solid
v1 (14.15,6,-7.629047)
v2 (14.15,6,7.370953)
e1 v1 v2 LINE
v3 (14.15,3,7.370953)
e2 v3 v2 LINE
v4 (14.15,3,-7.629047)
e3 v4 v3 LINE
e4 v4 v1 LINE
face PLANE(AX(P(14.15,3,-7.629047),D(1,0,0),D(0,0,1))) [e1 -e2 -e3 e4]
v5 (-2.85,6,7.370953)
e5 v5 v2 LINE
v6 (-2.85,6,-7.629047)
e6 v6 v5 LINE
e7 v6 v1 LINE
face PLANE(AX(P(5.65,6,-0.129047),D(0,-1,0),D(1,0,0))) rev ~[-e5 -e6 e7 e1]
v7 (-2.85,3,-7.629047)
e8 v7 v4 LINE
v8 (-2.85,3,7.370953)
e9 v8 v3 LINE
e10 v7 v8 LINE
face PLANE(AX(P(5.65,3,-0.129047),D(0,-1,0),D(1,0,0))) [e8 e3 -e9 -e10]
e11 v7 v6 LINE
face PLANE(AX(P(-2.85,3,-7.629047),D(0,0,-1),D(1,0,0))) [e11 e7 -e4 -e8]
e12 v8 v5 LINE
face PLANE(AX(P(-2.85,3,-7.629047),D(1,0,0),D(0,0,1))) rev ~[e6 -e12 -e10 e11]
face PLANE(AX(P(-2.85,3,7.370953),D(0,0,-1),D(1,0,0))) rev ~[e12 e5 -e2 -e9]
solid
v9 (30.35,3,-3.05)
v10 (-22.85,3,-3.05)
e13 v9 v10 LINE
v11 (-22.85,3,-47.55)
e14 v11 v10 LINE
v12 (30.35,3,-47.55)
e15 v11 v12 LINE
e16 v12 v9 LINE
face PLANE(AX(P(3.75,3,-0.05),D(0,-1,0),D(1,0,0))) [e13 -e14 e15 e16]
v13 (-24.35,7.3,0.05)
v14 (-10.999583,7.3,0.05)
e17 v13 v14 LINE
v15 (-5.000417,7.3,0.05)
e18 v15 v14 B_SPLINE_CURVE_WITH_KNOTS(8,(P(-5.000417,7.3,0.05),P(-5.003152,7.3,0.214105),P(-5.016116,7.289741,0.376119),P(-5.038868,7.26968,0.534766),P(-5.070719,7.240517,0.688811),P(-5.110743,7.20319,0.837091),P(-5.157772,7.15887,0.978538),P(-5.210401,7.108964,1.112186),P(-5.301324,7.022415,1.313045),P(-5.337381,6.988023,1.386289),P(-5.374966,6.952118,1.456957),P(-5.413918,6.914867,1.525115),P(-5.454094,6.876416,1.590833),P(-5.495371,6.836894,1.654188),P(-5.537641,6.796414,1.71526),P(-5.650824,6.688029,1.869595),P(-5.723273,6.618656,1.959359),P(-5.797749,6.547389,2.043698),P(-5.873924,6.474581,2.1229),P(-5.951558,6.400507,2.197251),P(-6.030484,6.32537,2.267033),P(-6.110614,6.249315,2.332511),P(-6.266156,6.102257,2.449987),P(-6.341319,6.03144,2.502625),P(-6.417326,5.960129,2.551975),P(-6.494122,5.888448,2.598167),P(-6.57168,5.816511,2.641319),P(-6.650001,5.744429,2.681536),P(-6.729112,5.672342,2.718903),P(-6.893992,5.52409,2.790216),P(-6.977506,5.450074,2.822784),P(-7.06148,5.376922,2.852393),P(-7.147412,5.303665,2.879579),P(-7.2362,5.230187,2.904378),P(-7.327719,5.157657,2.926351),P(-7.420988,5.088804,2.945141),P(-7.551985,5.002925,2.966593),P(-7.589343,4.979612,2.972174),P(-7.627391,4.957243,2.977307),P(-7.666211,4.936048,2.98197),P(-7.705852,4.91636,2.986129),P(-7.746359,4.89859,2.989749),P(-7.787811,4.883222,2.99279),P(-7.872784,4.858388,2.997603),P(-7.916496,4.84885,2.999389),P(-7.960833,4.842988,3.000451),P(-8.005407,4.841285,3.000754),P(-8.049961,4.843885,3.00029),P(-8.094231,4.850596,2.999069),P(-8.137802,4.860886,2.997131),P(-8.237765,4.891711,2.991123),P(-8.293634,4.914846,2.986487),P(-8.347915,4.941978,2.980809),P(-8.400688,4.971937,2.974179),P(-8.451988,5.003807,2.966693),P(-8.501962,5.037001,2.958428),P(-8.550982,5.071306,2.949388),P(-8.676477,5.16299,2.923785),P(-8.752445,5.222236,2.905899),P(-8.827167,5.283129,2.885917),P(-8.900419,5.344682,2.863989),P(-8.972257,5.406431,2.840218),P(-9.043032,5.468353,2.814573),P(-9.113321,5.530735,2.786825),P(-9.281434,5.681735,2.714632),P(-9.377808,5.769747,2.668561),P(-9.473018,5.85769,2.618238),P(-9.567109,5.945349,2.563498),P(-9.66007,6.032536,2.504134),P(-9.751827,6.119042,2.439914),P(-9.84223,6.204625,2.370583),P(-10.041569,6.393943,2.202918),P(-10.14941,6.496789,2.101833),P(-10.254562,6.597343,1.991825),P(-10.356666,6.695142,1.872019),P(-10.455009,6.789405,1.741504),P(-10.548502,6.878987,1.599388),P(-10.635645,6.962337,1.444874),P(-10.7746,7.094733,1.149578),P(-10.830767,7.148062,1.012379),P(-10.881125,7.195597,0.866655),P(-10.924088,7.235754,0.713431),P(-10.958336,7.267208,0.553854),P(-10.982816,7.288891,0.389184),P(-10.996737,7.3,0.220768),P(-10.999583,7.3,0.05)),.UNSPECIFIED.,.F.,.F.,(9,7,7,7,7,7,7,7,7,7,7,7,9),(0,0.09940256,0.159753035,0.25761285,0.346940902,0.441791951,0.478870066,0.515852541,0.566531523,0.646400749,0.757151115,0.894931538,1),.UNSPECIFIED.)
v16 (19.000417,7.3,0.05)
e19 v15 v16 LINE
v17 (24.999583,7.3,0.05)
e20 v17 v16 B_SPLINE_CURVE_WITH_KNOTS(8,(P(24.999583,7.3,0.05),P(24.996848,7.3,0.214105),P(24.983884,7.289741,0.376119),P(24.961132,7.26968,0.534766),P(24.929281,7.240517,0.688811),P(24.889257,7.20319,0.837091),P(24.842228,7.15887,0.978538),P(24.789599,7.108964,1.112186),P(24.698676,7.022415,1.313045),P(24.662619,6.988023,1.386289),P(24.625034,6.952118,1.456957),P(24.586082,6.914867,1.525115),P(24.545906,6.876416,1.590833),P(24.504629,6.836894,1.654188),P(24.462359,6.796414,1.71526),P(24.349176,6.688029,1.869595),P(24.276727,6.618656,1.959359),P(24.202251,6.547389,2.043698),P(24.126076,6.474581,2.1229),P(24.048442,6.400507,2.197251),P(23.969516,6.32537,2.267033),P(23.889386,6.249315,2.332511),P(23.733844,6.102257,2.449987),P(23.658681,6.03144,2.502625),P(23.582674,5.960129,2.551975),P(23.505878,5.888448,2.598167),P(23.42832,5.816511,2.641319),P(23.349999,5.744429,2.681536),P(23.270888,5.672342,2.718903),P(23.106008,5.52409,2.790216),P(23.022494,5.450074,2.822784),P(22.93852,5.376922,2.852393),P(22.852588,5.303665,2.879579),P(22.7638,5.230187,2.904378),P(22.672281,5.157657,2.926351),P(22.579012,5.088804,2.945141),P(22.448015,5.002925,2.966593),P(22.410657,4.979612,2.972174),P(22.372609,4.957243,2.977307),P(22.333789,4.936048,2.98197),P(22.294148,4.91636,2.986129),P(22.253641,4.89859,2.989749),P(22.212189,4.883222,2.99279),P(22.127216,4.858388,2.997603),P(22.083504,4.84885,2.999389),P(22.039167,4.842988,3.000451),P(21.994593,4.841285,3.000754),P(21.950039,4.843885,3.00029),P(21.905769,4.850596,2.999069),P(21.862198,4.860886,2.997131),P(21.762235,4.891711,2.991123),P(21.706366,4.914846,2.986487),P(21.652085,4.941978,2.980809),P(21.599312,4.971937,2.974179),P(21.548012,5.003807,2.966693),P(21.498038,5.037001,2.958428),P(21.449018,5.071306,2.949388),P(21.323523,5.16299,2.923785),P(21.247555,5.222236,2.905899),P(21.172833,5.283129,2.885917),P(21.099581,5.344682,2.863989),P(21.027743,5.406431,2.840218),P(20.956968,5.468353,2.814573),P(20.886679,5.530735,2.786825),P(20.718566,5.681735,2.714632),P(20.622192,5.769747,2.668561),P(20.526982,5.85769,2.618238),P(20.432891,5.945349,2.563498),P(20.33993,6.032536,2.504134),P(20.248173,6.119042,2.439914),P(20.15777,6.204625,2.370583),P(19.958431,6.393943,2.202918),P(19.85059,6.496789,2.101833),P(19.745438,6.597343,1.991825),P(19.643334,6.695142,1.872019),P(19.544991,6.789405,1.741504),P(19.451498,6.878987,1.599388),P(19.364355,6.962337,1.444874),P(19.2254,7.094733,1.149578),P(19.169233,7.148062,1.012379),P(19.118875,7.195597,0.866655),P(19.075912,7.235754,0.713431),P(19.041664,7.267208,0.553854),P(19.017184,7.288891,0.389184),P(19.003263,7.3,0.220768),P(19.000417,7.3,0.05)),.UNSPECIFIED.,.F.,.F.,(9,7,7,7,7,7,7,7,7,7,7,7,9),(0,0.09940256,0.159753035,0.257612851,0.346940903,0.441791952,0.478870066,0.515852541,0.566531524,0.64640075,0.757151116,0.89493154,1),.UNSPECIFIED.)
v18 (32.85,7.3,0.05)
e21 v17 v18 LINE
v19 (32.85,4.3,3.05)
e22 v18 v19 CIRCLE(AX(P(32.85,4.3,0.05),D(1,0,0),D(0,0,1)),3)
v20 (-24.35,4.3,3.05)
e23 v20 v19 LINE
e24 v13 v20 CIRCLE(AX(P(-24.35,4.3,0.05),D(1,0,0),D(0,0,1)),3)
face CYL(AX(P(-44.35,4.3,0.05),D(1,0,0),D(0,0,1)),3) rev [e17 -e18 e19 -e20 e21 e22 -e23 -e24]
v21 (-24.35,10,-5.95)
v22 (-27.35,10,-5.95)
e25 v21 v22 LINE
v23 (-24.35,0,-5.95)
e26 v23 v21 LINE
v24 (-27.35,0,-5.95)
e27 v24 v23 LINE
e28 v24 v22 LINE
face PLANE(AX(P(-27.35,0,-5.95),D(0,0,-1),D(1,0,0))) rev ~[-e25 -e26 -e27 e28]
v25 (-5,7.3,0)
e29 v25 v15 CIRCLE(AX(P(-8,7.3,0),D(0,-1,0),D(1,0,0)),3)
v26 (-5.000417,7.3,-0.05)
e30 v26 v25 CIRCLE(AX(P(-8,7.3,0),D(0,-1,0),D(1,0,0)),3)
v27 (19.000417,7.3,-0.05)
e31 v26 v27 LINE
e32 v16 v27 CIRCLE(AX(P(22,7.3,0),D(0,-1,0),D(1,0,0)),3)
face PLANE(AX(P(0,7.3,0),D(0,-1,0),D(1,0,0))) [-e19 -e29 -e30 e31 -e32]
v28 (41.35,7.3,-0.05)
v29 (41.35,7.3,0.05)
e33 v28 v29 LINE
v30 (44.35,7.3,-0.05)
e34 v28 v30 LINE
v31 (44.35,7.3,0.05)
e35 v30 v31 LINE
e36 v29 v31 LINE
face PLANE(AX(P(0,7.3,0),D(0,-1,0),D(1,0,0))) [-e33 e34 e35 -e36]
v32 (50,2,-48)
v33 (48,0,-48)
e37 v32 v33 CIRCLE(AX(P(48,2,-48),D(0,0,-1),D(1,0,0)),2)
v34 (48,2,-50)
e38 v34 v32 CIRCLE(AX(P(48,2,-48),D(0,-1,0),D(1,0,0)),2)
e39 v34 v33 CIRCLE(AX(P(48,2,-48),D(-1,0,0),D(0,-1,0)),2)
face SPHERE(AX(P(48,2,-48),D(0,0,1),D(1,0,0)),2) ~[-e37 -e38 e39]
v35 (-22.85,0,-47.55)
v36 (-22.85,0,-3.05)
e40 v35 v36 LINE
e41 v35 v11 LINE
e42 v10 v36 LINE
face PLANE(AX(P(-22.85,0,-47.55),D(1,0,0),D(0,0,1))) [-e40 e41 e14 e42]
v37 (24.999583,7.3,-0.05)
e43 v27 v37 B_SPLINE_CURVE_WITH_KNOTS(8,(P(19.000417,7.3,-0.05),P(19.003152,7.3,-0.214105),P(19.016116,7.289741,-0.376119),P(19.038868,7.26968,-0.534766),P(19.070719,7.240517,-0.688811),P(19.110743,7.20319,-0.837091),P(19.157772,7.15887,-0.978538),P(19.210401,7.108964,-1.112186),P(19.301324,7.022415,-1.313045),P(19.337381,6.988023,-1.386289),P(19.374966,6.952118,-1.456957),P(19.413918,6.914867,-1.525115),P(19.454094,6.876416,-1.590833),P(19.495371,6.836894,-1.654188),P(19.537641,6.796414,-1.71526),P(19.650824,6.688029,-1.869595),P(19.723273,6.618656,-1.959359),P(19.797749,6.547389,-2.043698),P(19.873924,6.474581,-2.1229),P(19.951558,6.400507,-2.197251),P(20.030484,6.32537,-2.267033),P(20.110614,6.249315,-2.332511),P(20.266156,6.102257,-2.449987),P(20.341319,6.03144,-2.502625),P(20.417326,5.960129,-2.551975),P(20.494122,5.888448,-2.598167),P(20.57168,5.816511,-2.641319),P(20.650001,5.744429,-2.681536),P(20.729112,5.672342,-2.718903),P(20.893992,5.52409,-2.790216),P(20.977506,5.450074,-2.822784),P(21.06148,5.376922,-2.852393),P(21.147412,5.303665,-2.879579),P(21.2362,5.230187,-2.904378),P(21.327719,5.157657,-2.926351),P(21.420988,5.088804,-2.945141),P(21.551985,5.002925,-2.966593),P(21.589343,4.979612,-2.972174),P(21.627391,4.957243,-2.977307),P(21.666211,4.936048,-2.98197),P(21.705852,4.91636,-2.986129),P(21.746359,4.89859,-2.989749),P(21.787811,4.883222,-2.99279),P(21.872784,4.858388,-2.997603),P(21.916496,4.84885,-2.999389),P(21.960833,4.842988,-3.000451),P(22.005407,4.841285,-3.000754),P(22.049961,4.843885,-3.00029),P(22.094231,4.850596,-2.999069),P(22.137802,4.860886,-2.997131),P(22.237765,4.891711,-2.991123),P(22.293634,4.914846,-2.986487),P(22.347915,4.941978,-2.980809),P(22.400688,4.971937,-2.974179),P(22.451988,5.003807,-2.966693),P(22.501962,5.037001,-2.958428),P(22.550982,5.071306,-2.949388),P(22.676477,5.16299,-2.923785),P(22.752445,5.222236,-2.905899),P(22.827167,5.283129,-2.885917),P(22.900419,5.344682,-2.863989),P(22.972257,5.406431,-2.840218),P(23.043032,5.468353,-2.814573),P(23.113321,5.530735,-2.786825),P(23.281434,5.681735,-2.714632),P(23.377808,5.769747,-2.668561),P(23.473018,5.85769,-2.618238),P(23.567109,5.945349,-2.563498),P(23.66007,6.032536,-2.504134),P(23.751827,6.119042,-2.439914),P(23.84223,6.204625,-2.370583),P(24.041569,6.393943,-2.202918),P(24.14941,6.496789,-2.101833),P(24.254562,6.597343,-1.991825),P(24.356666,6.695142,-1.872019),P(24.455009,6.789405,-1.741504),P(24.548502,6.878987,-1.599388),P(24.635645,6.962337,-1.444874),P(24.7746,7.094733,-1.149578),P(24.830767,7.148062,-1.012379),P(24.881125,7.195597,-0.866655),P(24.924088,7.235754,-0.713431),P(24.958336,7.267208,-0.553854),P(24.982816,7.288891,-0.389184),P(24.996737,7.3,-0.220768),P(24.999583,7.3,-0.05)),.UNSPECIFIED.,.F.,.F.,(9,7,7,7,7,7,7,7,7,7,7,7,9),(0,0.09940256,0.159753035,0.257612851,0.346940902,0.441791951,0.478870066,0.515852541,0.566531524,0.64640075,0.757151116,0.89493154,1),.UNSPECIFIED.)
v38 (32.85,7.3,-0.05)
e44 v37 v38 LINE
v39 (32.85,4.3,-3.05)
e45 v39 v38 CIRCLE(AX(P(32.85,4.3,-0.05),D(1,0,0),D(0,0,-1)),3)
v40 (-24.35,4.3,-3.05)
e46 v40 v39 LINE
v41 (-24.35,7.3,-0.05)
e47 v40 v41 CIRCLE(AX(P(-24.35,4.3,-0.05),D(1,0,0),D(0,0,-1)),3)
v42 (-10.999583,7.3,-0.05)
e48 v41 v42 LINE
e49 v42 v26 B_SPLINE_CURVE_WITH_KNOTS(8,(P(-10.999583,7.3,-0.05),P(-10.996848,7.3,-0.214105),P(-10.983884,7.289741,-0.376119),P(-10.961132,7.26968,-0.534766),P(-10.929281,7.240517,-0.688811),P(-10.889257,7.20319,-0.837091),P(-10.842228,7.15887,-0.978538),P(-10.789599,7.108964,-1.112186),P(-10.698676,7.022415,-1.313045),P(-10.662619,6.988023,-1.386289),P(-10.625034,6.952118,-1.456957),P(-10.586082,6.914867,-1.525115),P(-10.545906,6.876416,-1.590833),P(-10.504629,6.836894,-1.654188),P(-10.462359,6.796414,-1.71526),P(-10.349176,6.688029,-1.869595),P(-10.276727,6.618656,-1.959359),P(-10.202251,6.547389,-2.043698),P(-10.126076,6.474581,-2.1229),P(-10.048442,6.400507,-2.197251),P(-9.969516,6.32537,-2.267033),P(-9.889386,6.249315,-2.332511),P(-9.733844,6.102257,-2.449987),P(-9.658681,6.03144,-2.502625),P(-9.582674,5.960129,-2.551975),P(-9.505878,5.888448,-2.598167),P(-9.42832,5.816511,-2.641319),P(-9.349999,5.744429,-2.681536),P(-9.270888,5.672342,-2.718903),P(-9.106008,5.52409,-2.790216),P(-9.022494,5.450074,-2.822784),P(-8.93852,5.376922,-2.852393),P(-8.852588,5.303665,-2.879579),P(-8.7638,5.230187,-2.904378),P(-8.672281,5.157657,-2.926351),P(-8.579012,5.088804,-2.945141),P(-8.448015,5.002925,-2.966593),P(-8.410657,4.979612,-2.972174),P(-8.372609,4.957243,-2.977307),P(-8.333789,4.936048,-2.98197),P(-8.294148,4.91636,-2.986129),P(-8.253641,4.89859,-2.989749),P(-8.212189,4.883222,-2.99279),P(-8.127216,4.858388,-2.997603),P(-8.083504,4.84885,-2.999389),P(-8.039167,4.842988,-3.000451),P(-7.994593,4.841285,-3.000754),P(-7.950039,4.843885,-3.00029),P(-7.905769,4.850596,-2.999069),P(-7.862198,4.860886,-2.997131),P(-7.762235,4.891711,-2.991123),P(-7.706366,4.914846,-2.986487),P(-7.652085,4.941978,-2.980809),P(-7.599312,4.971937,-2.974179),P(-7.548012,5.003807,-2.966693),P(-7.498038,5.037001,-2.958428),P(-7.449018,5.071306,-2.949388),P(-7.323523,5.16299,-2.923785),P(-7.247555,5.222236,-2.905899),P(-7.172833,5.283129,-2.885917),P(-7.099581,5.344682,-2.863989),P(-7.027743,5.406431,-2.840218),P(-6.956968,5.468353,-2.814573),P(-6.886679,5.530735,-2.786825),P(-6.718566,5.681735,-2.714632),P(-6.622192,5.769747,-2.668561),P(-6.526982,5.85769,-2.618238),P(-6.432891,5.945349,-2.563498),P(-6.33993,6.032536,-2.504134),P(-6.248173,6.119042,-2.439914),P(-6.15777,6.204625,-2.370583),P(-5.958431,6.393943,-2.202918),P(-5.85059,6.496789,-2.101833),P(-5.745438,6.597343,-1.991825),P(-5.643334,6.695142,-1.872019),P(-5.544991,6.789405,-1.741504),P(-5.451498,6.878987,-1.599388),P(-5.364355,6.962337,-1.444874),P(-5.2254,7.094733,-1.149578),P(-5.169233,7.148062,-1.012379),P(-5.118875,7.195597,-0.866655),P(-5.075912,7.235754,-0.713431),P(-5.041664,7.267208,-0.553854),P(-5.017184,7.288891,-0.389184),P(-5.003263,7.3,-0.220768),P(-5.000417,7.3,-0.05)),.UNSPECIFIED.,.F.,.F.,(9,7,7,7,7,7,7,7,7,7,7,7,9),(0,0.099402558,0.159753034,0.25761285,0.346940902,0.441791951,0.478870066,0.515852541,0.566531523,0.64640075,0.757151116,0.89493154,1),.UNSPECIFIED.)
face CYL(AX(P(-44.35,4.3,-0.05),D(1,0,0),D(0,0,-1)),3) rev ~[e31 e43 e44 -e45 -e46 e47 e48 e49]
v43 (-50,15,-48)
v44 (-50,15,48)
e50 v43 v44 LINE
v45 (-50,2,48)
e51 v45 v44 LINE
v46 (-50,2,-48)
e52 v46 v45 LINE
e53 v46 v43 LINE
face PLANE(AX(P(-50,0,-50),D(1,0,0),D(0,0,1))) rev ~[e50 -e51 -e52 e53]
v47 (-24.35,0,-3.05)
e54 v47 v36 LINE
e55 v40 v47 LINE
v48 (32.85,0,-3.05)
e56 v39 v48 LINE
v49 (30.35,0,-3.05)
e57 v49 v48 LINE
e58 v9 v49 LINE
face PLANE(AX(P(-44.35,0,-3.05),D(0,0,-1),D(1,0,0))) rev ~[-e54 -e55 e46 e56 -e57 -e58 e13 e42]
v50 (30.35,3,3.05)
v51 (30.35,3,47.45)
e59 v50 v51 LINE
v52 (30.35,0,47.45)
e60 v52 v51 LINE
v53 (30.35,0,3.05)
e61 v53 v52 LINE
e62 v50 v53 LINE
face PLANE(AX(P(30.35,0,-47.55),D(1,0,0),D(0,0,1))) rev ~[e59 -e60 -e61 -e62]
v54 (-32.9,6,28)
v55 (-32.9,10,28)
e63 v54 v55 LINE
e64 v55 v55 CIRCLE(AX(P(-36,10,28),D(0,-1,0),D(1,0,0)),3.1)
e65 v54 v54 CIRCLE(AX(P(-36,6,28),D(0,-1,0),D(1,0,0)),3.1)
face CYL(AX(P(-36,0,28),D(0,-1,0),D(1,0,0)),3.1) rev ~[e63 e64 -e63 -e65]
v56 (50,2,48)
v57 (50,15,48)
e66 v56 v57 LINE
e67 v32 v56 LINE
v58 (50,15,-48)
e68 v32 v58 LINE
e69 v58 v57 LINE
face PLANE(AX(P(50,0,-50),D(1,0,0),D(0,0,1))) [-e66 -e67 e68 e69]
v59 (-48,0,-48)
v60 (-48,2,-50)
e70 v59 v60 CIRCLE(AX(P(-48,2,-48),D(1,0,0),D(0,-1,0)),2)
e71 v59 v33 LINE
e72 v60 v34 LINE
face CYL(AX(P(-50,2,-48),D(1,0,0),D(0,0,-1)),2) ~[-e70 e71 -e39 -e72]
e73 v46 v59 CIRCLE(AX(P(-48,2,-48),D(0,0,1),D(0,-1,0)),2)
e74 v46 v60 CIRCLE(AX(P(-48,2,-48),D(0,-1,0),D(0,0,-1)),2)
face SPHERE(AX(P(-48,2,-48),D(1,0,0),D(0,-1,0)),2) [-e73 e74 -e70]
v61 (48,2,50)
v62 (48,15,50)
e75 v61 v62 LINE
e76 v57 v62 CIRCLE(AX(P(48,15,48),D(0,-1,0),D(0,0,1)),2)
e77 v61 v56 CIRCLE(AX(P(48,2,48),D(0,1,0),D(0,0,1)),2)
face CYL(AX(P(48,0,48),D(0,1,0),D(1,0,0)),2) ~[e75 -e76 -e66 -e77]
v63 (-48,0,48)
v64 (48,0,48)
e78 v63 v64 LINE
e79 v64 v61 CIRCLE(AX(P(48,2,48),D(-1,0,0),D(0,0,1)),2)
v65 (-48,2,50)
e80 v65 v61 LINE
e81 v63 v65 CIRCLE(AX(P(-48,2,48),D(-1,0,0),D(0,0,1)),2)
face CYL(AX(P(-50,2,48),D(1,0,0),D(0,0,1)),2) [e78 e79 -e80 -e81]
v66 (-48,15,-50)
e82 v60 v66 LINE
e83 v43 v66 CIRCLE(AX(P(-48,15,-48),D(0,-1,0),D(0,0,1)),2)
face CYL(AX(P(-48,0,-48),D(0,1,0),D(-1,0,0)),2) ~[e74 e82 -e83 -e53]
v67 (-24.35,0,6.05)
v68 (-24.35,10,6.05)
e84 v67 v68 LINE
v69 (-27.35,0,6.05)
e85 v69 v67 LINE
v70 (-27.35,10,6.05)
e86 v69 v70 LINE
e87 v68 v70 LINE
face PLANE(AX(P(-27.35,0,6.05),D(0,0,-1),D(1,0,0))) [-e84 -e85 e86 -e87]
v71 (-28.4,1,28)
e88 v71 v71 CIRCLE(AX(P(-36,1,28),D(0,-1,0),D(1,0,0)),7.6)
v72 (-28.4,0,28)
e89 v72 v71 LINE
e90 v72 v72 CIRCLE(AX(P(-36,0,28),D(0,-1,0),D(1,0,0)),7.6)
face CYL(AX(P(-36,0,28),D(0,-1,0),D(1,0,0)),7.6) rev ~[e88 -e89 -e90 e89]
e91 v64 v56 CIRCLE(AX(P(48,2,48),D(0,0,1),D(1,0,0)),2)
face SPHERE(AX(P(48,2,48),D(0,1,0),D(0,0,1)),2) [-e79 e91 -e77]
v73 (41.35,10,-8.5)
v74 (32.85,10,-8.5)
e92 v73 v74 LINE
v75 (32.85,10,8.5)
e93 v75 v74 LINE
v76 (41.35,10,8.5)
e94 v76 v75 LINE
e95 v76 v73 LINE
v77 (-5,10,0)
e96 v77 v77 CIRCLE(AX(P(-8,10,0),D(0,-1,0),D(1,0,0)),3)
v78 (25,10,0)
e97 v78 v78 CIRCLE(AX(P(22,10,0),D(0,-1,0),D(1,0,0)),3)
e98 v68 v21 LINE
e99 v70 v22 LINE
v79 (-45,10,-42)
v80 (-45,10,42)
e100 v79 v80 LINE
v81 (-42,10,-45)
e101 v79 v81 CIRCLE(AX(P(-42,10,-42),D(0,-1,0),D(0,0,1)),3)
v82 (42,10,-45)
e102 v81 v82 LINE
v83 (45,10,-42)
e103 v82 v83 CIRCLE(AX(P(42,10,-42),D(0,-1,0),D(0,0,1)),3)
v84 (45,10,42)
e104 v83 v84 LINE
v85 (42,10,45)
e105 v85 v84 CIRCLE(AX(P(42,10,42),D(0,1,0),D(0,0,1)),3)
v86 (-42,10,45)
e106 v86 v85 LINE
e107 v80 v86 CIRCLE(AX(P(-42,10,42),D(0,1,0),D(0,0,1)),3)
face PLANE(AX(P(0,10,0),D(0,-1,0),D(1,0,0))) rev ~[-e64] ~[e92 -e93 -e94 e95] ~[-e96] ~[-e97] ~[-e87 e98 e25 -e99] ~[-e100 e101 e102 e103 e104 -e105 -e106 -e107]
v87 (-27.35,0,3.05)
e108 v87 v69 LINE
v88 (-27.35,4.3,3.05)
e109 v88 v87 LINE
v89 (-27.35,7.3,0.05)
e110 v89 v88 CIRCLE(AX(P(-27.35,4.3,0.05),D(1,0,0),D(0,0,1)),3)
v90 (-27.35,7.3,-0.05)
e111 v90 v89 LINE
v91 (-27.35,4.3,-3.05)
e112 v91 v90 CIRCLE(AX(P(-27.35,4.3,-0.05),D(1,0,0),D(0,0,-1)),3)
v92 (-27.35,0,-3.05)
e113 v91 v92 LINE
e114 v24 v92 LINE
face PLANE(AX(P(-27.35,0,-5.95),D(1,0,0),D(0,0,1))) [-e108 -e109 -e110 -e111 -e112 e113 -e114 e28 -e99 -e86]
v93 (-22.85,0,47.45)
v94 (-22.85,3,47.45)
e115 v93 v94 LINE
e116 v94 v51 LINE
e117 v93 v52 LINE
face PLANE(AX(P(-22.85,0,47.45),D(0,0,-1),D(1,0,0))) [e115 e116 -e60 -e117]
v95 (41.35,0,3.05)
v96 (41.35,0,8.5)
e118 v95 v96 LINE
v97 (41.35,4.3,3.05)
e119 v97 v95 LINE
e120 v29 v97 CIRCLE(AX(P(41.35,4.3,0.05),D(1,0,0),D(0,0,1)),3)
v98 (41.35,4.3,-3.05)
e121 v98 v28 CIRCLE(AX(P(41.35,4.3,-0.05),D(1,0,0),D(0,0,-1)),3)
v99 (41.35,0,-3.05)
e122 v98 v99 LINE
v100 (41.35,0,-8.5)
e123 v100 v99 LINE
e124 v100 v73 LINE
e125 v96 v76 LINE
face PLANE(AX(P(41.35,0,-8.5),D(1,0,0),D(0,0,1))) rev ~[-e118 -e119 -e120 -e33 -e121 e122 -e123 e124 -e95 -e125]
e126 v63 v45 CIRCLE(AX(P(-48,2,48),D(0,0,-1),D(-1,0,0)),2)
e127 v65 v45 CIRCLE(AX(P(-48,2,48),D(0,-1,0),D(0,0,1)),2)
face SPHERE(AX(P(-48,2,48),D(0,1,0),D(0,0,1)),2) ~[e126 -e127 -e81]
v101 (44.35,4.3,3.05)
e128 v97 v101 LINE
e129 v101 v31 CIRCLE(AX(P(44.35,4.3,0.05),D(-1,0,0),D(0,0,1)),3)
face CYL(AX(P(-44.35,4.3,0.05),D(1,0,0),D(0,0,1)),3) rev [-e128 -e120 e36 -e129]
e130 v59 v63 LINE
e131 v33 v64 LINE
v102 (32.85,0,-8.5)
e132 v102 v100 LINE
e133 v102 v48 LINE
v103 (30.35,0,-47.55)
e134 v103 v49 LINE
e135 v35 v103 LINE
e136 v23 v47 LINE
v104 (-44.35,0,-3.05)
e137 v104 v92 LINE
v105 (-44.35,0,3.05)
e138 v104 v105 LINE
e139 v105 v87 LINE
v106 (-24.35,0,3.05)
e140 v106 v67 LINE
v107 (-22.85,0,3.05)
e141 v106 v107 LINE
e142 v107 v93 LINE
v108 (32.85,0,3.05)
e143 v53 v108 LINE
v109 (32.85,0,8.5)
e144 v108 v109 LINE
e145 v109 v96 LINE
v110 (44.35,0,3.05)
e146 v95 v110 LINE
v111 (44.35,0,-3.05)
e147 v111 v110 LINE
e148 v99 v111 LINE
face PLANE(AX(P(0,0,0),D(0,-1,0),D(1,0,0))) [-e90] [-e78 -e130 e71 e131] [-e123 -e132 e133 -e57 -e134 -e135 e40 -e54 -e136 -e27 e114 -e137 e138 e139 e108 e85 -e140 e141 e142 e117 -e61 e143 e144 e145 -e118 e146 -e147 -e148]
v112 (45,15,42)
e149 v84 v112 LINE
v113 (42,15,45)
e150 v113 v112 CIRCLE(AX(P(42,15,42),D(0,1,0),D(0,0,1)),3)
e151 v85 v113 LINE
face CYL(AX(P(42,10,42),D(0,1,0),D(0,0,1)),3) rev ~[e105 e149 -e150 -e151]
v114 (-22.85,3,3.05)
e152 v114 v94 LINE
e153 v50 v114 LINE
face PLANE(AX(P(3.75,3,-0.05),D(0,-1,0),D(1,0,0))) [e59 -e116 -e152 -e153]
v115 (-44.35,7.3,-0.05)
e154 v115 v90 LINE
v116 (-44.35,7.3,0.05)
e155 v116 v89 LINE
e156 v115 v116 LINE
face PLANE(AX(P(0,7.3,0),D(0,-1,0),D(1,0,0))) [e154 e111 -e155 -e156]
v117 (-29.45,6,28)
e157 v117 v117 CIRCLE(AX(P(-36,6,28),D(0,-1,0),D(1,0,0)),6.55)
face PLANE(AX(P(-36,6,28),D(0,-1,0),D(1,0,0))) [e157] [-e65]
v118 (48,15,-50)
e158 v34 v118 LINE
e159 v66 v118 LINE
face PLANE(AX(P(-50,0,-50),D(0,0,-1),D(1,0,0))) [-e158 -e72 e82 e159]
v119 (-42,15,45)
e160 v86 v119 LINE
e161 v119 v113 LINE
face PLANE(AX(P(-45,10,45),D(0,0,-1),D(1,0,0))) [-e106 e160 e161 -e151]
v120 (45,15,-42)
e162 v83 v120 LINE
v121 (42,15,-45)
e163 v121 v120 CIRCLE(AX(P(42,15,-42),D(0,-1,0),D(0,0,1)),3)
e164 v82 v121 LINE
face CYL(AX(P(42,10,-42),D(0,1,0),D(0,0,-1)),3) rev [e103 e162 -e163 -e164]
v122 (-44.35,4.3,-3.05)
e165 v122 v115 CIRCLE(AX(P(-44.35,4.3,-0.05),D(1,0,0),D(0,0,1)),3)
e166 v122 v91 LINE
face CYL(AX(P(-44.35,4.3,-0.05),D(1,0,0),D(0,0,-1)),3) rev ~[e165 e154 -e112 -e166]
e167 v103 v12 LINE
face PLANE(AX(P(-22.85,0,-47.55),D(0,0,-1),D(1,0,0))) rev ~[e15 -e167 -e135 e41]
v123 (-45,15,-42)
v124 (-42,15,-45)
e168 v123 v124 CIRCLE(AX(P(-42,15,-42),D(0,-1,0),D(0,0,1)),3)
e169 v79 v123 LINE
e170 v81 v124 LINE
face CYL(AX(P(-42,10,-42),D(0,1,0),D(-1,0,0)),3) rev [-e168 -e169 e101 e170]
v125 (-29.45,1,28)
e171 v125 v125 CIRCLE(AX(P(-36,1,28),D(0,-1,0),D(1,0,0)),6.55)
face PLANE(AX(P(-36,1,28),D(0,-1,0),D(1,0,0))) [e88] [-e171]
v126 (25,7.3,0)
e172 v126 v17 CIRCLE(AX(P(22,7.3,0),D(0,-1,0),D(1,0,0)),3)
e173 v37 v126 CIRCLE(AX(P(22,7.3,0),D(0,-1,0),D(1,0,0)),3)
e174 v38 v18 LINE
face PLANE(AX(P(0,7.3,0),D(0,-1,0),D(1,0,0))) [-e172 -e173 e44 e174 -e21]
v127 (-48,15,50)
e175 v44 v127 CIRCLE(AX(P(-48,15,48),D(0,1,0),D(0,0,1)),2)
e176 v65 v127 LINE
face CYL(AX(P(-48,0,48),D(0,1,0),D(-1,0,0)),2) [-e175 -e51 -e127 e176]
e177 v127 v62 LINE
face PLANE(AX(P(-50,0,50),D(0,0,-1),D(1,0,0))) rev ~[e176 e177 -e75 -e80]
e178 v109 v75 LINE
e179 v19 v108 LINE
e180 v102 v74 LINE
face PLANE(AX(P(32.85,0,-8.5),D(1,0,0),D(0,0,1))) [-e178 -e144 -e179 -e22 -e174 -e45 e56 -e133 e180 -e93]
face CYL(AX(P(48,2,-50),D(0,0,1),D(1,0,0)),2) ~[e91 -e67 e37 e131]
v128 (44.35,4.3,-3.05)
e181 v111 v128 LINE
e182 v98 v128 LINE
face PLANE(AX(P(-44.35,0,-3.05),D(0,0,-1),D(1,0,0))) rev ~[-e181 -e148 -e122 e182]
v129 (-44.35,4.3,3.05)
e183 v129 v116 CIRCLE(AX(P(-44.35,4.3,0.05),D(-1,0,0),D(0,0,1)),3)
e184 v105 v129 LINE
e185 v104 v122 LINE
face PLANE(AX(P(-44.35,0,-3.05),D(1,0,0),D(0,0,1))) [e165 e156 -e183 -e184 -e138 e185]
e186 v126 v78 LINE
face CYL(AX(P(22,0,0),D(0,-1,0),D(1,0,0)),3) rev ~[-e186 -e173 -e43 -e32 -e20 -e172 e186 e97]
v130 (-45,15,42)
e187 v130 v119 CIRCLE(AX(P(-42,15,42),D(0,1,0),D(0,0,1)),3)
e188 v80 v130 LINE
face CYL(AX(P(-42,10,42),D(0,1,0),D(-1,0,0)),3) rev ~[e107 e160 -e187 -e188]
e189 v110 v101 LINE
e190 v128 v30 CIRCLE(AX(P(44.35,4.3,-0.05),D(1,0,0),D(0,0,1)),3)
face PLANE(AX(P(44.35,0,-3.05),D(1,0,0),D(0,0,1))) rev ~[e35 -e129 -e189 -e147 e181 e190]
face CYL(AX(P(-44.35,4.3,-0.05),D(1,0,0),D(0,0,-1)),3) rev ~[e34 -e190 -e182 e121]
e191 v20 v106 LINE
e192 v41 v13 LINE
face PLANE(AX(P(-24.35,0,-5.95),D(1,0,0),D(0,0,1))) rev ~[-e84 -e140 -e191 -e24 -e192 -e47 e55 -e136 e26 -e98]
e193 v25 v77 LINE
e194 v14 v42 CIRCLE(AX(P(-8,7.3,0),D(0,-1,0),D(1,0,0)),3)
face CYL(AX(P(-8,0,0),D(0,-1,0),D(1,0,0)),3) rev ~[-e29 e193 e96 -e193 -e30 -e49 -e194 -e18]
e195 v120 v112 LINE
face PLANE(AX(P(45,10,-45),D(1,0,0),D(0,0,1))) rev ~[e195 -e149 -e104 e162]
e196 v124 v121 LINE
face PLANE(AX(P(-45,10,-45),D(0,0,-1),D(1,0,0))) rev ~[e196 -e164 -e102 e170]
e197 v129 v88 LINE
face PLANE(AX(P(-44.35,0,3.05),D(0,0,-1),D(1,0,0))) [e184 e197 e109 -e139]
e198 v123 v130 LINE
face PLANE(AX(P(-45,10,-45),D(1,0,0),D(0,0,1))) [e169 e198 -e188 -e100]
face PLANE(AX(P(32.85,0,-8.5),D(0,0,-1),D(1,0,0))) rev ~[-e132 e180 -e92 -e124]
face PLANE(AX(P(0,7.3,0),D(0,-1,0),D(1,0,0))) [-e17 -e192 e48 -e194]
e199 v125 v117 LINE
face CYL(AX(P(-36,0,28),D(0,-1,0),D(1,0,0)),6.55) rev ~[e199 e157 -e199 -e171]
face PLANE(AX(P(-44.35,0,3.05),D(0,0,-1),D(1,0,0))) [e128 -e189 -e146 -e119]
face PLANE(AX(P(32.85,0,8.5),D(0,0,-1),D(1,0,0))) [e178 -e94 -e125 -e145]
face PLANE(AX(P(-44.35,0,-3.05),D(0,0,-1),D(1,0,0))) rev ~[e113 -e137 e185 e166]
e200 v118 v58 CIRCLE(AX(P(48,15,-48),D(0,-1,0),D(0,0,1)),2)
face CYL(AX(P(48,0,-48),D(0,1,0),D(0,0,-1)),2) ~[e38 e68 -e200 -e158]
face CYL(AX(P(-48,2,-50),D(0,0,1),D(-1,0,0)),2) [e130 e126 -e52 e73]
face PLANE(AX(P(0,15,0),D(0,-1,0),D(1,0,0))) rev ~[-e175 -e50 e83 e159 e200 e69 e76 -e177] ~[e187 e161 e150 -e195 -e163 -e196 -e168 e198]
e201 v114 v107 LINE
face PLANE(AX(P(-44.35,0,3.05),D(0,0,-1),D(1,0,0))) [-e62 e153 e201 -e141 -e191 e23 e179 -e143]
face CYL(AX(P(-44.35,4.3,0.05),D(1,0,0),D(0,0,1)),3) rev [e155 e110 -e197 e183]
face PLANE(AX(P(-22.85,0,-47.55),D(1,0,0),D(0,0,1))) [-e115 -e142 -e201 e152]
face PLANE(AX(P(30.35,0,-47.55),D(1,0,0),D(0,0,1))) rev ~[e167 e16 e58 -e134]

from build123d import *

# Parameters (mm, degrees)
F0_W      = 100
F0_H      = 100
F1_DEPTH  = 15
F2_R      = 2
F3_W      = 88.7
F3_H      = 6.1
F4_DEPTH  = 7.3
F5_R      = 3
F6_R      = 3
F7_DEPTH  = 16
F8_W      = 53.2
F8_H      = 95
F9_DEPTH  = 3
F11_START = -3
F10_W     = 17
F10_H     = 15
F11_DEPTH = 3
F12_W     = 8.5
F12_H     = 17
F13_DEPTH = 16
F14_W     = 3
F14_H     = 12
F15_DEPTH = 16
F16_R     = 3.1
F17_DEPTH = 16
F18_R     = 6.55
F19_DEPTH = 6
F20_R     = 7.6
F21_DEPTH = 1
F23_START = -10
F22_W     = 90
F22_H     = 90
F23_DEPTH = 6
F24_R     = 3


with BuildPart() as f1:
    # F0 (on Front) → F1 (new body)
    with BuildSketch(Plane.XZ):
        Rectangle(F0_W, F0_H)
    extrude(amount=-F1_DEPTH)

    # F2
    f2_edges = [f1.edges().sort_by_distance(p)[0] for p in [
        (-50, 7.5, 50),
        (50, 7.5, 50),
        (0, 0, 50),
        (50, 0, 0),
        (50, 7.5, -50),
        (0, 0, -50),
        (-50, 0, 0),
        (-50, 7.5, -50),
    ]]
    fillet(f2_edges, radius=F2_R)

    # F3 (on Front) → F4 (cut)
    with BuildSketch(Plane.XZ):
        Rectangle(F3_W, F3_H)
    extrude(amount=-F4_DEPTH, mode=Mode.SUBTRACT)

    # F5
    f5_edges = [f1.edges().sort_by_distance(p)[0] for p in [
        (0, 7.3, -3.05),
        (0, 7.3, 3.05),
    ]]
    fillet(f5_edges, radius=F5_R)

    # F6 (on Front) → F7 (cut)
    with BuildSketch(Plane.XZ):
        with Locations((-8, 0)):
            Circle(F6_R)
        with Locations((22, 0)):
            Circle(F6_R)
    extrude(amount=-F7_DEPTH, mode=Mode.SUBTRACT)

    # F8 (on Front) → F9 (cut)
    with BuildSketch(Plane.XZ):
        with Locations((3.75, -0.05)):
            Rectangle(F8_W, F8_H)
    extrude(amount=-F9_DEPTH, mode=Mode.SUBTRACT)

    # F12 (on Front) → F13 (cut)
    with BuildSketch(Plane.XZ):
        with Locations((37.1, 0)):
            Rectangle(F12_W, F12_H)
    extrude(amount=-F13_DEPTH, mode=Mode.SUBTRACT)

    # F14 (on Front) → F15 (cut)
    with BuildSketch(Plane.XZ):
        with Locations((-25.85, 0.05)):
            Rectangle(F14_W, F14_H)
    extrude(amount=-F15_DEPTH, mode=Mode.SUBTRACT)

    # F16 (on Front) → F17 (cut)
    with BuildSketch(Plane.XZ):
        with Locations((-36, 28)):
            Circle(F16_R)
    extrude(amount=-F17_DEPTH, mode=Mode.SUBTRACT)

    # F18 (on Front) → F19 (cut)
    with BuildSketch(Plane.XZ):
        with Locations((-36, 28)):
            Circle(F18_R)
    extrude(amount=-F19_DEPTH, mode=Mode.SUBTRACT)

    # F20 (on Front) → F21 (cut)
    with BuildSketch(Plane.XZ):
        with Locations((-36, 28)):
            Circle(F20_R)
    extrude(amount=-F21_DEPTH, mode=Mode.SUBTRACT)

    # F22 (on Front) → F23 (cut)
    with BuildSketch(Plane.XZ.offset(F23_START)):
        Rectangle(F22_W, F22_H)
    extrude(amount=-F23_DEPTH, mode=Mode.SUBTRACT)

    # F24
    f24_edges = [f1.edges().sort_by_distance(p)[0] for p in [
        (45, 12.5, -45),
        (45, 12.5, 45),
        (-45, 12.5, -45),
        (-45, 12.5, 45),
    ]]
    fillet(f24_edges, radius=F24_R)


with BuildPart() as f11:
    # F10 (on Front) → F11 (new body)
    with BuildSketch(Plane.XZ.offset(F11_START)):
        with Locations((5.65, -0.1290466171)):
            Rectangle(F10_W, F10_H)
    extrude(amount=-F11_DEPTH)


solid = Compound([f1.part, f11.part])
